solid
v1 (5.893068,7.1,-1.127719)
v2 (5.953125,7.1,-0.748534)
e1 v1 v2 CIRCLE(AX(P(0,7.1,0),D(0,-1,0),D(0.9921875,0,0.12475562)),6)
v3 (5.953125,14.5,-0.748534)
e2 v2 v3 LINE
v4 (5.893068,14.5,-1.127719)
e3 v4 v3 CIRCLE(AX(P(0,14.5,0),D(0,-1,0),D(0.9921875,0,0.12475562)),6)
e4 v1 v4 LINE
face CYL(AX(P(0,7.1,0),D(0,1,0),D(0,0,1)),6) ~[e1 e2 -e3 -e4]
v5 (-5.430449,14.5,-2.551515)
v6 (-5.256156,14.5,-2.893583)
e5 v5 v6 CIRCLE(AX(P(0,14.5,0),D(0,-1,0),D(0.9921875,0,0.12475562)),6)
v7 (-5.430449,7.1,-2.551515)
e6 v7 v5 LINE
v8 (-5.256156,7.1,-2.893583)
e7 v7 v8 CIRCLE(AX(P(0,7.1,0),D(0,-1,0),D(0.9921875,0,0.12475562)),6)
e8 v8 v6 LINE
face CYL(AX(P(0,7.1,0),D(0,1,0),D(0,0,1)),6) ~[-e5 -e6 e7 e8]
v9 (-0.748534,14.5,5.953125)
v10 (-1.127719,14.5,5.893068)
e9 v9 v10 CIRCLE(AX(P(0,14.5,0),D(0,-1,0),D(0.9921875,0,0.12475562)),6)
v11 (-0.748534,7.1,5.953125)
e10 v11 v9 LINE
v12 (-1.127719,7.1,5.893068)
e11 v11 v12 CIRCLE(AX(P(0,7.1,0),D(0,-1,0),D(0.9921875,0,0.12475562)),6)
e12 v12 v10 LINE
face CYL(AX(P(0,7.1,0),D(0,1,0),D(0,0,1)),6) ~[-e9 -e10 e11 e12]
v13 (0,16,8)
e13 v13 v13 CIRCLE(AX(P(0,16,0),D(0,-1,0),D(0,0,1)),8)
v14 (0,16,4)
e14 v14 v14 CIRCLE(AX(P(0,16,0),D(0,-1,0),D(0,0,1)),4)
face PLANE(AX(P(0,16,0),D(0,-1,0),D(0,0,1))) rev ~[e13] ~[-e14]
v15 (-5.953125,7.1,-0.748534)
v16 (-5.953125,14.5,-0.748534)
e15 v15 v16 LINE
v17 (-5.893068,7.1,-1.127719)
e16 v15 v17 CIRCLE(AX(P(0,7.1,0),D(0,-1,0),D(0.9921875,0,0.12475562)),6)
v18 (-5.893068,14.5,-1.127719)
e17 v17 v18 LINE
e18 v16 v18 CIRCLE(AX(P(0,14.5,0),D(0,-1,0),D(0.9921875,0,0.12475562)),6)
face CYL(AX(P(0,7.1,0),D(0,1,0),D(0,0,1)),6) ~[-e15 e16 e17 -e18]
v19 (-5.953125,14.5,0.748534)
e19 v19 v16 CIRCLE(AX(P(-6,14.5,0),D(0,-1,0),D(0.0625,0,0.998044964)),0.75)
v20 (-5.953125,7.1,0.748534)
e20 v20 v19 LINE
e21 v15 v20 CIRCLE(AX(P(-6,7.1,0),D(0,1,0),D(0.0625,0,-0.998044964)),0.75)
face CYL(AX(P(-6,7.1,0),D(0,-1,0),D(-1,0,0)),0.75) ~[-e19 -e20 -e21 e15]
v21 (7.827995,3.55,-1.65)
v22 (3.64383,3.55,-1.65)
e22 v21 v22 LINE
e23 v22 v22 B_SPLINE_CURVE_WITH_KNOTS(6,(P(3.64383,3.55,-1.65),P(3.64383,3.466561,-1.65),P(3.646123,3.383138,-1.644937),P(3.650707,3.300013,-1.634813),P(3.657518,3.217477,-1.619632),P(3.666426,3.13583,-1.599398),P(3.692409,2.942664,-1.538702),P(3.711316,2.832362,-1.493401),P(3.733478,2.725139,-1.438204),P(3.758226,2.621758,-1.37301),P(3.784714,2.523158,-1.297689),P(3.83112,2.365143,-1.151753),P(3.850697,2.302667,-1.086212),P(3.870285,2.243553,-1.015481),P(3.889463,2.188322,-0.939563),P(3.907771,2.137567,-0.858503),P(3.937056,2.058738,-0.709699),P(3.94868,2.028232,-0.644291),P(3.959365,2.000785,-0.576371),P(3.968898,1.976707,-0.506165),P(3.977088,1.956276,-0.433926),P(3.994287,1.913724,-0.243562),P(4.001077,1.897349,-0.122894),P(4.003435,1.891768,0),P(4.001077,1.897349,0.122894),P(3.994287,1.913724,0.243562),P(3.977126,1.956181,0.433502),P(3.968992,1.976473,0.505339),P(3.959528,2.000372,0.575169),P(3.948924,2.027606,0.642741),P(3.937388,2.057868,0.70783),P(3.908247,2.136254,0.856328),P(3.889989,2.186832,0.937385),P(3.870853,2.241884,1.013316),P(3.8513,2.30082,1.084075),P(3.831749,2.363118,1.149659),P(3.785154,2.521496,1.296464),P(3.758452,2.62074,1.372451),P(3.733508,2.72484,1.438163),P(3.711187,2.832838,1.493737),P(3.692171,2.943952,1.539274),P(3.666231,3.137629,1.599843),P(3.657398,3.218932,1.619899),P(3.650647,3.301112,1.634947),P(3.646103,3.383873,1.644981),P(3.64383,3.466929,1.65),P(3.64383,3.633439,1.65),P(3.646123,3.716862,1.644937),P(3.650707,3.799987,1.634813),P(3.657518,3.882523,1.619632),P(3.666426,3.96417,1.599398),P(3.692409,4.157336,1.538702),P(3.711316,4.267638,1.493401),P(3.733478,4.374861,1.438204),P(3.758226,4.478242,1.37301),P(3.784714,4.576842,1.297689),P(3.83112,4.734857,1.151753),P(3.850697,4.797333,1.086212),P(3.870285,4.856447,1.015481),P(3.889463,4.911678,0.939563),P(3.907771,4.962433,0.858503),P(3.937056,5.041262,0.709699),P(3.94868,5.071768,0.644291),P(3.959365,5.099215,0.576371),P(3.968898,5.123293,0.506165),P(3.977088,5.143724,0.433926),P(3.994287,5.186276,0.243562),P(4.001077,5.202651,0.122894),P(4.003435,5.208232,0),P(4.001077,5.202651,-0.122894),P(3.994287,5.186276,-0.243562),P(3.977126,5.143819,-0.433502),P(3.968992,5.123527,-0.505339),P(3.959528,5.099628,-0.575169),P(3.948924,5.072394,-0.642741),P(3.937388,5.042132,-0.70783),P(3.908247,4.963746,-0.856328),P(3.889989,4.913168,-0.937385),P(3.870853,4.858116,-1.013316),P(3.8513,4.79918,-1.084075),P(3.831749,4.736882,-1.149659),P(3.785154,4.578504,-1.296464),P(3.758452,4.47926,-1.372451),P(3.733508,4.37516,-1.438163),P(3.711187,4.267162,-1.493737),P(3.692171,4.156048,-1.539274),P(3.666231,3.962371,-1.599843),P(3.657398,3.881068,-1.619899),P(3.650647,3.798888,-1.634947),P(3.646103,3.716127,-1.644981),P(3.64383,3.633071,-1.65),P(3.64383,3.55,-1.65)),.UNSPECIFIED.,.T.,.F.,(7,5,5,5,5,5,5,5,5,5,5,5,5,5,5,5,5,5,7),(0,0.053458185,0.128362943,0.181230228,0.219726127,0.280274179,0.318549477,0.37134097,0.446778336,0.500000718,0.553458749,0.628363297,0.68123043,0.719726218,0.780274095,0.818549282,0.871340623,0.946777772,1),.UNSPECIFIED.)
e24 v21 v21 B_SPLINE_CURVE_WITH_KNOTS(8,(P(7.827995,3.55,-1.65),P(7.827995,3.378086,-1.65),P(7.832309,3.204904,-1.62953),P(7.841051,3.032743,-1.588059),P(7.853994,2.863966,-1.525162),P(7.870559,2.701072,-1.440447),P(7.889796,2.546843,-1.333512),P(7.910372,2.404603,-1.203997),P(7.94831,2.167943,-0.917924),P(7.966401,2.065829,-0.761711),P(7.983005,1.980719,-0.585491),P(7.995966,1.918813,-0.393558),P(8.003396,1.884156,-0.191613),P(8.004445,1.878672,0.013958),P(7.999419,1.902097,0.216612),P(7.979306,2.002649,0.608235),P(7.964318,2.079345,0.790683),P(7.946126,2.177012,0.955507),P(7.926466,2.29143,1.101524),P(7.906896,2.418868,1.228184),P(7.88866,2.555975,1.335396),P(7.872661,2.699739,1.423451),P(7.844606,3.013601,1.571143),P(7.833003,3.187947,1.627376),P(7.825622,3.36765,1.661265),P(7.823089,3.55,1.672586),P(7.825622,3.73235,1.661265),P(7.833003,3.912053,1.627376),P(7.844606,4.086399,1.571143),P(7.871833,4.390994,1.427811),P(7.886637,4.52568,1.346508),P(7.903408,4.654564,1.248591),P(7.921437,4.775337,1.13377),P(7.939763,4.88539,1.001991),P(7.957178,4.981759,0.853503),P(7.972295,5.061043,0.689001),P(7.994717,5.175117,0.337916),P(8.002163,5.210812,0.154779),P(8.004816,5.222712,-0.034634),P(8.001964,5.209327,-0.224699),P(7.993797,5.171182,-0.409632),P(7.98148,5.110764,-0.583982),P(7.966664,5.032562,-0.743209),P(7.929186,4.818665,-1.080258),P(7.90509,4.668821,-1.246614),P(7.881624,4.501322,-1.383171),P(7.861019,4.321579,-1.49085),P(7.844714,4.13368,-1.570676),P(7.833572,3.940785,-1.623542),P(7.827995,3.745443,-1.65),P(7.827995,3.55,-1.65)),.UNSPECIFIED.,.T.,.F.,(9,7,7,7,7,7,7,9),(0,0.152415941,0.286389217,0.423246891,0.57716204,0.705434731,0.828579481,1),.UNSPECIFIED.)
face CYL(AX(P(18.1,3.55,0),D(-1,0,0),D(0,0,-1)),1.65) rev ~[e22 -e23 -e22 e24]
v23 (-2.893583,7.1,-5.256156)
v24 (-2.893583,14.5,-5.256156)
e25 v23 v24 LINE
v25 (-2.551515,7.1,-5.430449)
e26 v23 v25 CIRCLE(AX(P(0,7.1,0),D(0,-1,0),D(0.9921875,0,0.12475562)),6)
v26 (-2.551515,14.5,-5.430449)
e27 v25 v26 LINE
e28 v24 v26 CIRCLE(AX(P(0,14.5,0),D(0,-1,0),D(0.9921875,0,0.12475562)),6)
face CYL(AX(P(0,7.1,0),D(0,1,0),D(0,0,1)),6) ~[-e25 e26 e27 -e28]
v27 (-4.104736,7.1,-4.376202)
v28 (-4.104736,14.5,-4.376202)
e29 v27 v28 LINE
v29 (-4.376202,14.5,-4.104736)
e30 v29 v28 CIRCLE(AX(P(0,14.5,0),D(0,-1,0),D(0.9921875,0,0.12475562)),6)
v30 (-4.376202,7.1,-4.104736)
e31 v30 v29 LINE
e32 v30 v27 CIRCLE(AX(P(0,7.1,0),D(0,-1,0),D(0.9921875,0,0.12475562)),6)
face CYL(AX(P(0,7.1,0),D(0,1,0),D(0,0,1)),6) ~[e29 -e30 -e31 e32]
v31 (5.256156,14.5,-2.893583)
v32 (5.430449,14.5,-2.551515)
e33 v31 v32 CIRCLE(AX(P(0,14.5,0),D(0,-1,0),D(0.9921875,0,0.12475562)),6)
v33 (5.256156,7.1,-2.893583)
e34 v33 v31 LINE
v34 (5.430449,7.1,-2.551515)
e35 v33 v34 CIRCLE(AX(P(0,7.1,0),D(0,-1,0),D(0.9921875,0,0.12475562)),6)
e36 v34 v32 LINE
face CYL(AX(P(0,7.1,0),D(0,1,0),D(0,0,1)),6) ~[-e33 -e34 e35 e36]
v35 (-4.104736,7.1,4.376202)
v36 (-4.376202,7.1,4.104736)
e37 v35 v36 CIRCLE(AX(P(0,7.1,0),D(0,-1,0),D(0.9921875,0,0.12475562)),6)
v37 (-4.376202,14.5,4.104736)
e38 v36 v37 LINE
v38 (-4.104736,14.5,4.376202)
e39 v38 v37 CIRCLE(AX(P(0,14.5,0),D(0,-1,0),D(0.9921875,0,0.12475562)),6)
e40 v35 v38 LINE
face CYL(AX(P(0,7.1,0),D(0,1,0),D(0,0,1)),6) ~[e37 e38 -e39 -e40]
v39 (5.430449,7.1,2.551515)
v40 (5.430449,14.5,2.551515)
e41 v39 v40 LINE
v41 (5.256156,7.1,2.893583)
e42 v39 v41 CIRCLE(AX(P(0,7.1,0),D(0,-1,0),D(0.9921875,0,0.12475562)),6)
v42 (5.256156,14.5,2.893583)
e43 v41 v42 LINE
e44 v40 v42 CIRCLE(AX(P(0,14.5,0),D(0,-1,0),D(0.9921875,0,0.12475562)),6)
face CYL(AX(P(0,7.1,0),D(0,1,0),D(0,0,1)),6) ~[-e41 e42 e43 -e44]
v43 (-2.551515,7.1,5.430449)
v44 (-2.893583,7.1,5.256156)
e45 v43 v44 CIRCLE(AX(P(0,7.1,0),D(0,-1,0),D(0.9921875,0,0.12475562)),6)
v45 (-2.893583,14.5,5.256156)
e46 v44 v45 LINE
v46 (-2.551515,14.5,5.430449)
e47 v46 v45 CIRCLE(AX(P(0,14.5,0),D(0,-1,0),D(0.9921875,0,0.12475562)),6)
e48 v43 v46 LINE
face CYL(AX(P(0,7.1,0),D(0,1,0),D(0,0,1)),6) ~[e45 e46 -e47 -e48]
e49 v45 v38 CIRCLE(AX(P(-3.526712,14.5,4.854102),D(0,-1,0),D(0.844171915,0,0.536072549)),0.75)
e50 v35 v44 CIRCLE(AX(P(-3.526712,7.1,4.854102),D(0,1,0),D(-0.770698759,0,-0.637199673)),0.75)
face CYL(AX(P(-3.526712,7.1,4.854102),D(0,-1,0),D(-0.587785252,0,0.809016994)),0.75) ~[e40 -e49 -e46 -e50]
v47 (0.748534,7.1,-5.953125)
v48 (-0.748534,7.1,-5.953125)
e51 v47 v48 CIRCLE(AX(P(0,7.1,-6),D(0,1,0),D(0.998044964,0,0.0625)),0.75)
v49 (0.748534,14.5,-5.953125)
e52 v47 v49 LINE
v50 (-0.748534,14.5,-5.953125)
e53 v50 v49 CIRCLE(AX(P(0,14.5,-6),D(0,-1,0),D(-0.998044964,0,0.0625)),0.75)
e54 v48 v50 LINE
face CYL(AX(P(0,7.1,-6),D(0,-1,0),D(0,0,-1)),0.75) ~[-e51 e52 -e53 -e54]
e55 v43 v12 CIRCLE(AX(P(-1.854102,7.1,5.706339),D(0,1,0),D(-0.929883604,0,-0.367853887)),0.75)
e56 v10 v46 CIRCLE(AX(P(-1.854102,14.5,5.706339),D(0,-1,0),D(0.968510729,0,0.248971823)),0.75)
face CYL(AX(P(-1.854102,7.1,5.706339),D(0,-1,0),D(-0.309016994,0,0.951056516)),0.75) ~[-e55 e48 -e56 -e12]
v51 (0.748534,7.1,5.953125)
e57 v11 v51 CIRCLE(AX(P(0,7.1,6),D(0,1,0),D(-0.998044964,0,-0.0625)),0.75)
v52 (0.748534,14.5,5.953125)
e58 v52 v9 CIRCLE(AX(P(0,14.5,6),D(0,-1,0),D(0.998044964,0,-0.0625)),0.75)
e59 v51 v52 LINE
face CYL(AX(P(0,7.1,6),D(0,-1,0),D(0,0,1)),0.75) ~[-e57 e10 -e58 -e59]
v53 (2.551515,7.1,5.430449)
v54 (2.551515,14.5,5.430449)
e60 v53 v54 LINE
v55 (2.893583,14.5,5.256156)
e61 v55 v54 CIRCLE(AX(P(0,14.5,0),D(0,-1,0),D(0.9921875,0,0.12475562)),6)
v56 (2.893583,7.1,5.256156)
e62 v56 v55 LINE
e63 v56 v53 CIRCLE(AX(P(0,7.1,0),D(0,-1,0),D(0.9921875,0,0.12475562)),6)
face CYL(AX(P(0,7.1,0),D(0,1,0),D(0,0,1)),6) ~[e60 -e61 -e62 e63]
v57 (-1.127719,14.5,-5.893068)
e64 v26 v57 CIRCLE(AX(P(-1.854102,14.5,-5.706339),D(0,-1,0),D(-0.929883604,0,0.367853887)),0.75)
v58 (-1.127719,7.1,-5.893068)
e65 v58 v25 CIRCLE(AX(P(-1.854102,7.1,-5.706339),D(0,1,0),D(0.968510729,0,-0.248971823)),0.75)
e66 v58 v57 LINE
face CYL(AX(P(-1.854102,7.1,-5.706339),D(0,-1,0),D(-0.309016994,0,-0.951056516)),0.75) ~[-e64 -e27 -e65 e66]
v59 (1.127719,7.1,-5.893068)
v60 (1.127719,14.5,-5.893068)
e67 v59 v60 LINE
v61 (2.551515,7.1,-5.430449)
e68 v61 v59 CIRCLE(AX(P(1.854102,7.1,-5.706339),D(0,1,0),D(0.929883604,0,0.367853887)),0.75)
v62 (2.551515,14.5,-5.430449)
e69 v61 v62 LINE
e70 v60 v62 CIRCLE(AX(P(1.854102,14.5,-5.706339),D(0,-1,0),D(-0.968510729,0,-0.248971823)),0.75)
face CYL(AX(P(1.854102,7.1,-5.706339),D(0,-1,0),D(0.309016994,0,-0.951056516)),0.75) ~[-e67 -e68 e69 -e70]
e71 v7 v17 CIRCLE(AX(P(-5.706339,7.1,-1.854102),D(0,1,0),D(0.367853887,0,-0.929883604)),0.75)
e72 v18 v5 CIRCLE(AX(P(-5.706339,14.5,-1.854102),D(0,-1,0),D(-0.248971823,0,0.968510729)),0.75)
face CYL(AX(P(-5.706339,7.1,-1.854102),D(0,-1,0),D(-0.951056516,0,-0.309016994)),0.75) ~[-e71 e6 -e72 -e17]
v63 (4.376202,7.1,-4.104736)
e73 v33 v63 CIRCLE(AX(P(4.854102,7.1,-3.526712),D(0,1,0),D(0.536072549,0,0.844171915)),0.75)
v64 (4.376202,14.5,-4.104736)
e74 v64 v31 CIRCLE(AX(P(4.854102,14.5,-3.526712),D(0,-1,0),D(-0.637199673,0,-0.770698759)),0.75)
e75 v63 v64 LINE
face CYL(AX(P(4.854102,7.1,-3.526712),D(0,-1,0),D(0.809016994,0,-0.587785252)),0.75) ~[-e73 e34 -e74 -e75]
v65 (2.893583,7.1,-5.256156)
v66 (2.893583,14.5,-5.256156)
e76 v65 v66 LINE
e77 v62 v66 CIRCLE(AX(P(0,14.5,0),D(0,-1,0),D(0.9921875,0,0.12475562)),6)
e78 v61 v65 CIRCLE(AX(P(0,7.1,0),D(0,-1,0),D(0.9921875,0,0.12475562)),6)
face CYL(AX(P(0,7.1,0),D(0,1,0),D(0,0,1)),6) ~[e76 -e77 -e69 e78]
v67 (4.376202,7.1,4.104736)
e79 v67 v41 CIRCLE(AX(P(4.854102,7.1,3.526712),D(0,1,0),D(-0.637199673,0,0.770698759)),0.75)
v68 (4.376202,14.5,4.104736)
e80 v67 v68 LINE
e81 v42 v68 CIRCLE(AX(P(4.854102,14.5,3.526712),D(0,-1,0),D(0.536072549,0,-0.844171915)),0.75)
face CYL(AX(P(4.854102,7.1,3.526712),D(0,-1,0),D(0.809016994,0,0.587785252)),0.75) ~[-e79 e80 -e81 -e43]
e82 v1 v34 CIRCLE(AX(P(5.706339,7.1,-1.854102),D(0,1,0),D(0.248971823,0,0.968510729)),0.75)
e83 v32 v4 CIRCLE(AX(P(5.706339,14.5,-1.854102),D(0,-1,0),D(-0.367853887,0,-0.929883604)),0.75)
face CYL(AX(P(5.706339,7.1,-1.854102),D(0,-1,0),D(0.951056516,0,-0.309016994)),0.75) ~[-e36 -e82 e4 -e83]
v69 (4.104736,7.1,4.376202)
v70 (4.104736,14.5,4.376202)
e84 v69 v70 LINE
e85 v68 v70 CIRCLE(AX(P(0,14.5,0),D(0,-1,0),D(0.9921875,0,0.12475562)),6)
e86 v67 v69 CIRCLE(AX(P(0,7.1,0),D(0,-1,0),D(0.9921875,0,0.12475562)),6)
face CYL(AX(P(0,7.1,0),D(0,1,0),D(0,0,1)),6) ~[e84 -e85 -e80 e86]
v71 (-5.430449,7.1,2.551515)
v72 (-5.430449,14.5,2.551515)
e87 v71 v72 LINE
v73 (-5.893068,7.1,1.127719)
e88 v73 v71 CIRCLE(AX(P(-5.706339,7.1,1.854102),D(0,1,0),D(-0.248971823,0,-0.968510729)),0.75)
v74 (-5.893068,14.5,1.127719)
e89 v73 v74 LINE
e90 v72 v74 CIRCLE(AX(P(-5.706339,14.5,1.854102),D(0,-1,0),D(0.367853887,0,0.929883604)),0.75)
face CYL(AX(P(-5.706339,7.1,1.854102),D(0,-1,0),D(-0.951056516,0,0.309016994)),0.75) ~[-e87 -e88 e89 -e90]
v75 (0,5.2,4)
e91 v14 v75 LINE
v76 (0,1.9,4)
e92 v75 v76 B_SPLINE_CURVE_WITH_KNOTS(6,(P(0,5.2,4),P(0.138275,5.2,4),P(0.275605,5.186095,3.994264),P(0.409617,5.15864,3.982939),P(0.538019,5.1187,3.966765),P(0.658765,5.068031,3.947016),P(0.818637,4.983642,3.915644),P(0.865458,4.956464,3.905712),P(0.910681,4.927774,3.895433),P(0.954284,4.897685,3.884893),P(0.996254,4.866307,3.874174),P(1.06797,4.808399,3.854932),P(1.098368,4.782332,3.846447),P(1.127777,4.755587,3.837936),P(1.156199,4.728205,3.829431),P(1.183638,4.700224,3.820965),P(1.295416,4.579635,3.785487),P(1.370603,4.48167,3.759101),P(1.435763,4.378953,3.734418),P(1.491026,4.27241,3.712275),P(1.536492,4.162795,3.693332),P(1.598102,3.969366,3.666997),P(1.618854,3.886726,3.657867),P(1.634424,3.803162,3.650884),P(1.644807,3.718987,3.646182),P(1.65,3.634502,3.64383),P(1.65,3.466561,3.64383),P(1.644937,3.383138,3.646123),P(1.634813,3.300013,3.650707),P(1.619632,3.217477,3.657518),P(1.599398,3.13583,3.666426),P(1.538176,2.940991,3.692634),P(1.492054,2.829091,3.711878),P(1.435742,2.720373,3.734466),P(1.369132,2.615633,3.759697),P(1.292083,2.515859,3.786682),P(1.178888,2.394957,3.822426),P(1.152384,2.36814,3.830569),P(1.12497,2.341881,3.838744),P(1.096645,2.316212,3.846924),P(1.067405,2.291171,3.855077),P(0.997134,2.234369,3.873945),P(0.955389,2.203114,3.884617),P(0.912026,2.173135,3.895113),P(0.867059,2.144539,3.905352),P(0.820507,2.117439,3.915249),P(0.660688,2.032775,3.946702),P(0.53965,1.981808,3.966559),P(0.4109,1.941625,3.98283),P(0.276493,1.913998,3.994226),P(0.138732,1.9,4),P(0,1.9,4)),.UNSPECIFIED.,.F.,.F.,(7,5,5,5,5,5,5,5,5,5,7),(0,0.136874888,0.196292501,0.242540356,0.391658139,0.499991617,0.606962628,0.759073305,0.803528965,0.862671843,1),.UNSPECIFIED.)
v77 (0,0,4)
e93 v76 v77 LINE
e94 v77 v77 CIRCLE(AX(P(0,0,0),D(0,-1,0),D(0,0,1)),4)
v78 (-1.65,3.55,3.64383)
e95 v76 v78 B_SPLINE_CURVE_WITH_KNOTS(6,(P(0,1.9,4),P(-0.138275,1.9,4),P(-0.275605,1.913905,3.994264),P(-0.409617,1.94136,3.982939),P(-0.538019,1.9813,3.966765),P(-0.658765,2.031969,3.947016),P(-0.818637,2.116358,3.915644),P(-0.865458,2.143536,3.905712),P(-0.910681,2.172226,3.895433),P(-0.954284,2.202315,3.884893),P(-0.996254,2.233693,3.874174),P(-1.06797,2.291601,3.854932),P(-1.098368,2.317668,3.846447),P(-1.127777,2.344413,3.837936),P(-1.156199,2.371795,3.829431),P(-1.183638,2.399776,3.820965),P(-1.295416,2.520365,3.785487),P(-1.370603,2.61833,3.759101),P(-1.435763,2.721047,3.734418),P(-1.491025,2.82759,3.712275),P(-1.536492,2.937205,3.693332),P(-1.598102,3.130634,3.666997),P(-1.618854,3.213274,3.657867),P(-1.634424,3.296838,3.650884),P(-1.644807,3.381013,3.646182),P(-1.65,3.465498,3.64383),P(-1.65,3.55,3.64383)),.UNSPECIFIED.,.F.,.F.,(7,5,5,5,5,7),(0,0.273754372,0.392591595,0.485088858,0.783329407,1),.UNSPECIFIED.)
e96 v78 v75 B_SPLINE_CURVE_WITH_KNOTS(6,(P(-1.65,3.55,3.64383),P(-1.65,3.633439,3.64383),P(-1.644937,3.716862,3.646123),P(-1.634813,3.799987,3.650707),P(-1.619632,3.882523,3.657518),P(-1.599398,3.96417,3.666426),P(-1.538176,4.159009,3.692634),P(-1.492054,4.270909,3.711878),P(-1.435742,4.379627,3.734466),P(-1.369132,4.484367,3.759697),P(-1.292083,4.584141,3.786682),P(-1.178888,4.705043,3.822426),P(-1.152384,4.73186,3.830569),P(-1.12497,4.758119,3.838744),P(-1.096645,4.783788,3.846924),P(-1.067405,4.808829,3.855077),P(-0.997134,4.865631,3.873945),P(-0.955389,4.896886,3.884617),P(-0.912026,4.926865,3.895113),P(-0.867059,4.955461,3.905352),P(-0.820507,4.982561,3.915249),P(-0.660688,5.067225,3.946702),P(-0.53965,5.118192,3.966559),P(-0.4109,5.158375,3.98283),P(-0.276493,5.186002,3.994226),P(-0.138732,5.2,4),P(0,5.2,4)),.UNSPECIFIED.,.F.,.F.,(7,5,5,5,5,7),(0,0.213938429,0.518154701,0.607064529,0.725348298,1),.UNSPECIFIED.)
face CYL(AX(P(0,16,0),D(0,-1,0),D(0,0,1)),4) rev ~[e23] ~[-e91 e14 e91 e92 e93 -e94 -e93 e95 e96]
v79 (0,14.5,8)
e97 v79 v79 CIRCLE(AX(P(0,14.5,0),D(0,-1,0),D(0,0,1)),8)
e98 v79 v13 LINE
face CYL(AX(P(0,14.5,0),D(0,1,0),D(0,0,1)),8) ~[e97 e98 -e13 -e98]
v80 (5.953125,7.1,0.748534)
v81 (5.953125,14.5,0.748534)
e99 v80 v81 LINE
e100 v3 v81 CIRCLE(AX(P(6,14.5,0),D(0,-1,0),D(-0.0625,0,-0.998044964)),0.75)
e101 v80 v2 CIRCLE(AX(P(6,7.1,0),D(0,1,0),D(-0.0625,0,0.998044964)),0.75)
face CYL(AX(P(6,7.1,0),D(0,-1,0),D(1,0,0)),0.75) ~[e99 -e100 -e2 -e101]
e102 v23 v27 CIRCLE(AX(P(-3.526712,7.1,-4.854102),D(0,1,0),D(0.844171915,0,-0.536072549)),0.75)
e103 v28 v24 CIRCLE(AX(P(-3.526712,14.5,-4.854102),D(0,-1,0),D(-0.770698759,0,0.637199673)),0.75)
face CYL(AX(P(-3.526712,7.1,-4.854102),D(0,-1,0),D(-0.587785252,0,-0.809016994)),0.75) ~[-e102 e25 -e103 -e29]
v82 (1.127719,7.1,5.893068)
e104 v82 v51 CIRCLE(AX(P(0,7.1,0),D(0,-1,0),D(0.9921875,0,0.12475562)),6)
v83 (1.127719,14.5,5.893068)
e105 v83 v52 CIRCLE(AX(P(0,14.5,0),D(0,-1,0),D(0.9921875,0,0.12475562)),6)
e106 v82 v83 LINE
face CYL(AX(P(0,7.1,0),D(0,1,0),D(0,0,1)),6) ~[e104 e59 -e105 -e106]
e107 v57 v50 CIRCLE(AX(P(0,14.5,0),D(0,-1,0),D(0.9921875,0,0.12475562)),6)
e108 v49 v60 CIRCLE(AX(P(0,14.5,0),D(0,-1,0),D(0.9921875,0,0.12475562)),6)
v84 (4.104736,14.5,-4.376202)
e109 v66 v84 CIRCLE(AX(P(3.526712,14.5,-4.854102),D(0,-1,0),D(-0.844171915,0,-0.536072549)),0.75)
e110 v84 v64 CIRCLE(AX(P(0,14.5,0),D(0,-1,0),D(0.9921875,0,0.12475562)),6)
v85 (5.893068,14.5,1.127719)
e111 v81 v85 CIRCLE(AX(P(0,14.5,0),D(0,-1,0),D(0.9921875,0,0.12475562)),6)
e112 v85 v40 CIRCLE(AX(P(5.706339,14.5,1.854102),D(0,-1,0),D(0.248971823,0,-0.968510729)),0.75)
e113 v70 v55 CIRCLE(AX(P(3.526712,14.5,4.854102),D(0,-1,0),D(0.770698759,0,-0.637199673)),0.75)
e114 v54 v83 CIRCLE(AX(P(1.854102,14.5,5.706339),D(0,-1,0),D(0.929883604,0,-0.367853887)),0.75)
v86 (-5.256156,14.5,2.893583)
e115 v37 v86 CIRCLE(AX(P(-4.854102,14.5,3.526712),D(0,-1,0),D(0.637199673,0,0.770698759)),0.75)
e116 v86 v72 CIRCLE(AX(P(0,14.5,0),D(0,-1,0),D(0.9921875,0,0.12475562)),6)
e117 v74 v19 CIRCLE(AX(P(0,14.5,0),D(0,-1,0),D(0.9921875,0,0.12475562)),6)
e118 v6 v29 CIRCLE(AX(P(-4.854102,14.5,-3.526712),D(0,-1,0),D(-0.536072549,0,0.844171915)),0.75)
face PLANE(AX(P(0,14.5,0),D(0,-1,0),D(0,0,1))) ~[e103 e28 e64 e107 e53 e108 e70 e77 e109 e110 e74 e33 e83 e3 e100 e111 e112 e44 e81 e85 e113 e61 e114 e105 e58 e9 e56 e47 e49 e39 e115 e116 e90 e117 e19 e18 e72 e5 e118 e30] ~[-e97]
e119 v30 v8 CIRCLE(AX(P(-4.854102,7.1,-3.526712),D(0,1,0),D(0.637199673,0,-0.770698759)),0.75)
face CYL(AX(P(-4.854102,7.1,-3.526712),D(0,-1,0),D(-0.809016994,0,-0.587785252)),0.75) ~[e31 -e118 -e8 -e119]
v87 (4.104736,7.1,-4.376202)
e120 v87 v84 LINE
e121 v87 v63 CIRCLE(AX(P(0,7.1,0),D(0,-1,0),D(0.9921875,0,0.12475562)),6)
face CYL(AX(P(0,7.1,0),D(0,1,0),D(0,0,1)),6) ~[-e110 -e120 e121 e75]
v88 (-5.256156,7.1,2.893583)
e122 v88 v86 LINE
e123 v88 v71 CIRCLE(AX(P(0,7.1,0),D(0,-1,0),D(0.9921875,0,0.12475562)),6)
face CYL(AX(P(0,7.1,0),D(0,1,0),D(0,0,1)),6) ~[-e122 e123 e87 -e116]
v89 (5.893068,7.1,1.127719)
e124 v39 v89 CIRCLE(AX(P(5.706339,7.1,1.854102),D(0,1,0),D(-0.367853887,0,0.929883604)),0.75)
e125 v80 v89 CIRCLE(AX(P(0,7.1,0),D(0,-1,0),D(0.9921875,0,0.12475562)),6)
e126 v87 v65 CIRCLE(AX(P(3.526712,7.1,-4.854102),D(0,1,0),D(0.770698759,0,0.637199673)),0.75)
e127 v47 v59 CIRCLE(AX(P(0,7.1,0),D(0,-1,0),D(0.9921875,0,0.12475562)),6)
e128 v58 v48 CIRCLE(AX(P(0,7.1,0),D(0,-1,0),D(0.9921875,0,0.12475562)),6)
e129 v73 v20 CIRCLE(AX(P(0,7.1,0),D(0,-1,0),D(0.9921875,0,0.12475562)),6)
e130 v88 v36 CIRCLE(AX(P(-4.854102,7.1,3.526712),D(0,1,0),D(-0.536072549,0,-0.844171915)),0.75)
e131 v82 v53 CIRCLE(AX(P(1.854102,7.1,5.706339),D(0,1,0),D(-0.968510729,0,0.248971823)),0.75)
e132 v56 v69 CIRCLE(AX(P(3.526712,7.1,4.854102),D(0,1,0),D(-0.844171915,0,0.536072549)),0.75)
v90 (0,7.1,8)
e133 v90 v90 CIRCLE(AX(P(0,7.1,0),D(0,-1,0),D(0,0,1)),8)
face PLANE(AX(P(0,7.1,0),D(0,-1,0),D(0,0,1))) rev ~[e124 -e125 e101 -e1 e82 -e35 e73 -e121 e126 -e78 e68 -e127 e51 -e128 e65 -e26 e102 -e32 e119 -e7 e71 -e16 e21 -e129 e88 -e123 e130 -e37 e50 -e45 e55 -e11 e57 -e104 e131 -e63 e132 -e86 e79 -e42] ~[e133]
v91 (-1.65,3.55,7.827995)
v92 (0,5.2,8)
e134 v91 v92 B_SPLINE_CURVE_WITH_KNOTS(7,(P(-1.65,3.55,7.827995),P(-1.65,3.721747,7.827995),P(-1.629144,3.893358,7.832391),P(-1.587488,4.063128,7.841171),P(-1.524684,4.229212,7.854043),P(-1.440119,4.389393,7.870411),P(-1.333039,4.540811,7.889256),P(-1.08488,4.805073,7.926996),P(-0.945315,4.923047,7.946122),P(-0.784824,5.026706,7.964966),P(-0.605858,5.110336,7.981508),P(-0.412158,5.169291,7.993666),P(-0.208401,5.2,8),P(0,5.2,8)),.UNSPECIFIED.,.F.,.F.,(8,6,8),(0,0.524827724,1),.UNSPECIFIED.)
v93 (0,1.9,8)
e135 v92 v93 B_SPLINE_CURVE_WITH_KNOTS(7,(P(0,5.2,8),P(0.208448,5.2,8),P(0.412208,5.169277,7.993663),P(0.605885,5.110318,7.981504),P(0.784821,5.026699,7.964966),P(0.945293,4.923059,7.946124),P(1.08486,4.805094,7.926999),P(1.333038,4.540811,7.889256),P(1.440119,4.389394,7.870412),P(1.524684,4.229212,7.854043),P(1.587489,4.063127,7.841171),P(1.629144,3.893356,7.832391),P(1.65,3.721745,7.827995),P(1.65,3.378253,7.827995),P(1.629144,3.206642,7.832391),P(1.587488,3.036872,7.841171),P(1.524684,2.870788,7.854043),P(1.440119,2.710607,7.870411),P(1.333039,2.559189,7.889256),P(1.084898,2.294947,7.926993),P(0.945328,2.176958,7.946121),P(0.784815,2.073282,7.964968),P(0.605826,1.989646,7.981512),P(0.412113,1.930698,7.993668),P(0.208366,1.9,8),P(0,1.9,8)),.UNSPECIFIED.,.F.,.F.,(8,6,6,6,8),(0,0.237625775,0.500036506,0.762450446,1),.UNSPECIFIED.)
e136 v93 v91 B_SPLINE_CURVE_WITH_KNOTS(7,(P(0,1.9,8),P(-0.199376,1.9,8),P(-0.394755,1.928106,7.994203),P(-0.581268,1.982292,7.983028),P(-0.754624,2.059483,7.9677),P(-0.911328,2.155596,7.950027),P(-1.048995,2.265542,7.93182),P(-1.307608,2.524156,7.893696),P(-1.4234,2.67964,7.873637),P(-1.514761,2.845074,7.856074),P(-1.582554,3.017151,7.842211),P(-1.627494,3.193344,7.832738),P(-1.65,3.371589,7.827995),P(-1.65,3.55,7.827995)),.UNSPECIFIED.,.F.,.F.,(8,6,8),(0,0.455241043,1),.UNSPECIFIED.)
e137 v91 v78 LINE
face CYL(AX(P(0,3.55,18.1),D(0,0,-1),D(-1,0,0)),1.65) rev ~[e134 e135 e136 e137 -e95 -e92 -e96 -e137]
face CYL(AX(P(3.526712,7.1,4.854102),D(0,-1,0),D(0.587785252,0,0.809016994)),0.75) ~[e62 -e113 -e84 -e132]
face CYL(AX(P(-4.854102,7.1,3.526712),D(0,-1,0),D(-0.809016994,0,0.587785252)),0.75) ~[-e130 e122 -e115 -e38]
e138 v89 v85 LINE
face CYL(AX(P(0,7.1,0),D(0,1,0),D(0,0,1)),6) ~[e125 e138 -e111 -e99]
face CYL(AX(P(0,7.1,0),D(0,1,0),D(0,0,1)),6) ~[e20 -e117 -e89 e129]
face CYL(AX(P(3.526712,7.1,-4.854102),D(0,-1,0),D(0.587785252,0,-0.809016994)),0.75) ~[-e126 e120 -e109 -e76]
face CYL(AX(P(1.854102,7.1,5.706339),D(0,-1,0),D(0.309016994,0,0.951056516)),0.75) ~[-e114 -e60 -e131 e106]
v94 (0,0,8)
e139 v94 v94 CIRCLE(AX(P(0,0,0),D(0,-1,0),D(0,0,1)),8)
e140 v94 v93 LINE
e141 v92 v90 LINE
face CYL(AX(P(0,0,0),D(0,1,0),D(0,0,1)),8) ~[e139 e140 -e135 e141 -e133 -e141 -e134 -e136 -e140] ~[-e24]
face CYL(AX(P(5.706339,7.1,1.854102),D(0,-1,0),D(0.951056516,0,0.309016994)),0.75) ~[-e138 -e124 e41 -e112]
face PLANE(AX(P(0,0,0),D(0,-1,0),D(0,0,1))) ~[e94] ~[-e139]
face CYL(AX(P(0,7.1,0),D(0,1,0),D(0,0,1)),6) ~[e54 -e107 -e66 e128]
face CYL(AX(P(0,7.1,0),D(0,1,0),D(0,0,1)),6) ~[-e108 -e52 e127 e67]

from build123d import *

# Parameters (mm, degrees)
HOLE_WIZARD_M4_1_D               = 3.3
HOLE_WIZARD_M4_1_DEPTH           = 10.1
HOLE_WIZARD_M4_1_TIP             = 0.991420021
HOLE_WIZARD_M4_1_ON_FACE_2_D     = 3.3
HOLE_WIZARD_M4_1_ON_FACE_2_DEPTH = 10.1
HOLE_WIZARD_M4_1_ON_FACE_2_TIP   = 0.991420021
SKETCH_9_R                       = 0.75
EXTRUDE_1_DEPTH                  = 8
PATTERN_CIRCULAR_1_COUNT         = 20


with BuildPart() as part:
    # 草图1 → 旋转1 (revolve)
    with BuildSketch(Plane.XY, mode=Mode.PRIVATE) as revolve_1_sk:
        Polygon((-8, 16), (-4, 16), (-4, 0), (-8, 0), (-8, 7.1), (-6, 7.1), (-6, 14.5), (-8, 14.5), align=None)
    revolve(revolve_1_sk.sketch.rotate(Axis((0, 30.877418673, 0), (0, -1, 0)), 270), axis=Axis((0, 30.877418673, 0), (0, -1, 0)))

    # M4 螺纹孔1
    with Locations(Plane(origin=(0, 3.55, 8), x_dir=(1, 0, 0), z_dir=(0, 0, 1))):
        with Locations((0, 0)):
            Hole(HOLE_WIZARD_M4_1_D / 2, depth=HOLE_WIZARD_M4_1_DEPTH)
            with Locations((0, 0, -(HOLE_WIZARD_M4_1_DEPTH + HOLE_WIZARD_M4_1_TIP / 2))):  # 118° drill point
                Cone(0, HOLE_WIZARD_M4_1_D / 2, HOLE_WIZARD_M4_1_TIP, mode=Mode.SUBTRACT)

    # M4 螺纹孔1 on face 2
    with Locations(Plane(origin=(8, 3.55, 0), x_dir=(0, 0, 1), z_dir=(1, 0, 0))):
        with Locations((0, 0)):
            Hole(HOLE_WIZARD_M4_1_ON_FACE_2_D / 2, depth=HOLE_WIZARD_M4_1_ON_FACE_2_DEPTH)
            with Locations((0, 0, -(HOLE_WIZARD_M4_1_ON_FACE_2_DEPTH + HOLE_WIZARD_M4_1_ON_FACE_2_TIP / 2))):  # 118° drill point
                Cone(0, HOLE_WIZARD_M4_1_ON_FACE_2_D / 2, HOLE_WIZARD_M4_1_ON_FACE_2_TIP, mode=Mode.SUBTRACT)

    # 草图9 → 凸台-拉伸1 (add)
    with BuildSketch(Plane(origin=(0, 7.1, 0), x_dir=(1, 0, 0), z_dir=(0, 1, 0))):
        with Locations((6, 0)):
            Circle(SKETCH_9_R)
    extrude_1 = extrude(amount=EXTRUDE_1_DEPTH)

    # 阵列(圆周)1: 凸台-拉伸1 ×20 about axis
    pattern_circular_1_axis = Axis((0, 0, 0), (0, 1, 0))
    for i in range(1, PATTERN_CIRCULAR_1_COUNT):
        add(extrude_1.rotate(pattern_circular_1_axis, i * 360 / PATTERN_CIRCULAR_1_COUNT))


solid = part.part
